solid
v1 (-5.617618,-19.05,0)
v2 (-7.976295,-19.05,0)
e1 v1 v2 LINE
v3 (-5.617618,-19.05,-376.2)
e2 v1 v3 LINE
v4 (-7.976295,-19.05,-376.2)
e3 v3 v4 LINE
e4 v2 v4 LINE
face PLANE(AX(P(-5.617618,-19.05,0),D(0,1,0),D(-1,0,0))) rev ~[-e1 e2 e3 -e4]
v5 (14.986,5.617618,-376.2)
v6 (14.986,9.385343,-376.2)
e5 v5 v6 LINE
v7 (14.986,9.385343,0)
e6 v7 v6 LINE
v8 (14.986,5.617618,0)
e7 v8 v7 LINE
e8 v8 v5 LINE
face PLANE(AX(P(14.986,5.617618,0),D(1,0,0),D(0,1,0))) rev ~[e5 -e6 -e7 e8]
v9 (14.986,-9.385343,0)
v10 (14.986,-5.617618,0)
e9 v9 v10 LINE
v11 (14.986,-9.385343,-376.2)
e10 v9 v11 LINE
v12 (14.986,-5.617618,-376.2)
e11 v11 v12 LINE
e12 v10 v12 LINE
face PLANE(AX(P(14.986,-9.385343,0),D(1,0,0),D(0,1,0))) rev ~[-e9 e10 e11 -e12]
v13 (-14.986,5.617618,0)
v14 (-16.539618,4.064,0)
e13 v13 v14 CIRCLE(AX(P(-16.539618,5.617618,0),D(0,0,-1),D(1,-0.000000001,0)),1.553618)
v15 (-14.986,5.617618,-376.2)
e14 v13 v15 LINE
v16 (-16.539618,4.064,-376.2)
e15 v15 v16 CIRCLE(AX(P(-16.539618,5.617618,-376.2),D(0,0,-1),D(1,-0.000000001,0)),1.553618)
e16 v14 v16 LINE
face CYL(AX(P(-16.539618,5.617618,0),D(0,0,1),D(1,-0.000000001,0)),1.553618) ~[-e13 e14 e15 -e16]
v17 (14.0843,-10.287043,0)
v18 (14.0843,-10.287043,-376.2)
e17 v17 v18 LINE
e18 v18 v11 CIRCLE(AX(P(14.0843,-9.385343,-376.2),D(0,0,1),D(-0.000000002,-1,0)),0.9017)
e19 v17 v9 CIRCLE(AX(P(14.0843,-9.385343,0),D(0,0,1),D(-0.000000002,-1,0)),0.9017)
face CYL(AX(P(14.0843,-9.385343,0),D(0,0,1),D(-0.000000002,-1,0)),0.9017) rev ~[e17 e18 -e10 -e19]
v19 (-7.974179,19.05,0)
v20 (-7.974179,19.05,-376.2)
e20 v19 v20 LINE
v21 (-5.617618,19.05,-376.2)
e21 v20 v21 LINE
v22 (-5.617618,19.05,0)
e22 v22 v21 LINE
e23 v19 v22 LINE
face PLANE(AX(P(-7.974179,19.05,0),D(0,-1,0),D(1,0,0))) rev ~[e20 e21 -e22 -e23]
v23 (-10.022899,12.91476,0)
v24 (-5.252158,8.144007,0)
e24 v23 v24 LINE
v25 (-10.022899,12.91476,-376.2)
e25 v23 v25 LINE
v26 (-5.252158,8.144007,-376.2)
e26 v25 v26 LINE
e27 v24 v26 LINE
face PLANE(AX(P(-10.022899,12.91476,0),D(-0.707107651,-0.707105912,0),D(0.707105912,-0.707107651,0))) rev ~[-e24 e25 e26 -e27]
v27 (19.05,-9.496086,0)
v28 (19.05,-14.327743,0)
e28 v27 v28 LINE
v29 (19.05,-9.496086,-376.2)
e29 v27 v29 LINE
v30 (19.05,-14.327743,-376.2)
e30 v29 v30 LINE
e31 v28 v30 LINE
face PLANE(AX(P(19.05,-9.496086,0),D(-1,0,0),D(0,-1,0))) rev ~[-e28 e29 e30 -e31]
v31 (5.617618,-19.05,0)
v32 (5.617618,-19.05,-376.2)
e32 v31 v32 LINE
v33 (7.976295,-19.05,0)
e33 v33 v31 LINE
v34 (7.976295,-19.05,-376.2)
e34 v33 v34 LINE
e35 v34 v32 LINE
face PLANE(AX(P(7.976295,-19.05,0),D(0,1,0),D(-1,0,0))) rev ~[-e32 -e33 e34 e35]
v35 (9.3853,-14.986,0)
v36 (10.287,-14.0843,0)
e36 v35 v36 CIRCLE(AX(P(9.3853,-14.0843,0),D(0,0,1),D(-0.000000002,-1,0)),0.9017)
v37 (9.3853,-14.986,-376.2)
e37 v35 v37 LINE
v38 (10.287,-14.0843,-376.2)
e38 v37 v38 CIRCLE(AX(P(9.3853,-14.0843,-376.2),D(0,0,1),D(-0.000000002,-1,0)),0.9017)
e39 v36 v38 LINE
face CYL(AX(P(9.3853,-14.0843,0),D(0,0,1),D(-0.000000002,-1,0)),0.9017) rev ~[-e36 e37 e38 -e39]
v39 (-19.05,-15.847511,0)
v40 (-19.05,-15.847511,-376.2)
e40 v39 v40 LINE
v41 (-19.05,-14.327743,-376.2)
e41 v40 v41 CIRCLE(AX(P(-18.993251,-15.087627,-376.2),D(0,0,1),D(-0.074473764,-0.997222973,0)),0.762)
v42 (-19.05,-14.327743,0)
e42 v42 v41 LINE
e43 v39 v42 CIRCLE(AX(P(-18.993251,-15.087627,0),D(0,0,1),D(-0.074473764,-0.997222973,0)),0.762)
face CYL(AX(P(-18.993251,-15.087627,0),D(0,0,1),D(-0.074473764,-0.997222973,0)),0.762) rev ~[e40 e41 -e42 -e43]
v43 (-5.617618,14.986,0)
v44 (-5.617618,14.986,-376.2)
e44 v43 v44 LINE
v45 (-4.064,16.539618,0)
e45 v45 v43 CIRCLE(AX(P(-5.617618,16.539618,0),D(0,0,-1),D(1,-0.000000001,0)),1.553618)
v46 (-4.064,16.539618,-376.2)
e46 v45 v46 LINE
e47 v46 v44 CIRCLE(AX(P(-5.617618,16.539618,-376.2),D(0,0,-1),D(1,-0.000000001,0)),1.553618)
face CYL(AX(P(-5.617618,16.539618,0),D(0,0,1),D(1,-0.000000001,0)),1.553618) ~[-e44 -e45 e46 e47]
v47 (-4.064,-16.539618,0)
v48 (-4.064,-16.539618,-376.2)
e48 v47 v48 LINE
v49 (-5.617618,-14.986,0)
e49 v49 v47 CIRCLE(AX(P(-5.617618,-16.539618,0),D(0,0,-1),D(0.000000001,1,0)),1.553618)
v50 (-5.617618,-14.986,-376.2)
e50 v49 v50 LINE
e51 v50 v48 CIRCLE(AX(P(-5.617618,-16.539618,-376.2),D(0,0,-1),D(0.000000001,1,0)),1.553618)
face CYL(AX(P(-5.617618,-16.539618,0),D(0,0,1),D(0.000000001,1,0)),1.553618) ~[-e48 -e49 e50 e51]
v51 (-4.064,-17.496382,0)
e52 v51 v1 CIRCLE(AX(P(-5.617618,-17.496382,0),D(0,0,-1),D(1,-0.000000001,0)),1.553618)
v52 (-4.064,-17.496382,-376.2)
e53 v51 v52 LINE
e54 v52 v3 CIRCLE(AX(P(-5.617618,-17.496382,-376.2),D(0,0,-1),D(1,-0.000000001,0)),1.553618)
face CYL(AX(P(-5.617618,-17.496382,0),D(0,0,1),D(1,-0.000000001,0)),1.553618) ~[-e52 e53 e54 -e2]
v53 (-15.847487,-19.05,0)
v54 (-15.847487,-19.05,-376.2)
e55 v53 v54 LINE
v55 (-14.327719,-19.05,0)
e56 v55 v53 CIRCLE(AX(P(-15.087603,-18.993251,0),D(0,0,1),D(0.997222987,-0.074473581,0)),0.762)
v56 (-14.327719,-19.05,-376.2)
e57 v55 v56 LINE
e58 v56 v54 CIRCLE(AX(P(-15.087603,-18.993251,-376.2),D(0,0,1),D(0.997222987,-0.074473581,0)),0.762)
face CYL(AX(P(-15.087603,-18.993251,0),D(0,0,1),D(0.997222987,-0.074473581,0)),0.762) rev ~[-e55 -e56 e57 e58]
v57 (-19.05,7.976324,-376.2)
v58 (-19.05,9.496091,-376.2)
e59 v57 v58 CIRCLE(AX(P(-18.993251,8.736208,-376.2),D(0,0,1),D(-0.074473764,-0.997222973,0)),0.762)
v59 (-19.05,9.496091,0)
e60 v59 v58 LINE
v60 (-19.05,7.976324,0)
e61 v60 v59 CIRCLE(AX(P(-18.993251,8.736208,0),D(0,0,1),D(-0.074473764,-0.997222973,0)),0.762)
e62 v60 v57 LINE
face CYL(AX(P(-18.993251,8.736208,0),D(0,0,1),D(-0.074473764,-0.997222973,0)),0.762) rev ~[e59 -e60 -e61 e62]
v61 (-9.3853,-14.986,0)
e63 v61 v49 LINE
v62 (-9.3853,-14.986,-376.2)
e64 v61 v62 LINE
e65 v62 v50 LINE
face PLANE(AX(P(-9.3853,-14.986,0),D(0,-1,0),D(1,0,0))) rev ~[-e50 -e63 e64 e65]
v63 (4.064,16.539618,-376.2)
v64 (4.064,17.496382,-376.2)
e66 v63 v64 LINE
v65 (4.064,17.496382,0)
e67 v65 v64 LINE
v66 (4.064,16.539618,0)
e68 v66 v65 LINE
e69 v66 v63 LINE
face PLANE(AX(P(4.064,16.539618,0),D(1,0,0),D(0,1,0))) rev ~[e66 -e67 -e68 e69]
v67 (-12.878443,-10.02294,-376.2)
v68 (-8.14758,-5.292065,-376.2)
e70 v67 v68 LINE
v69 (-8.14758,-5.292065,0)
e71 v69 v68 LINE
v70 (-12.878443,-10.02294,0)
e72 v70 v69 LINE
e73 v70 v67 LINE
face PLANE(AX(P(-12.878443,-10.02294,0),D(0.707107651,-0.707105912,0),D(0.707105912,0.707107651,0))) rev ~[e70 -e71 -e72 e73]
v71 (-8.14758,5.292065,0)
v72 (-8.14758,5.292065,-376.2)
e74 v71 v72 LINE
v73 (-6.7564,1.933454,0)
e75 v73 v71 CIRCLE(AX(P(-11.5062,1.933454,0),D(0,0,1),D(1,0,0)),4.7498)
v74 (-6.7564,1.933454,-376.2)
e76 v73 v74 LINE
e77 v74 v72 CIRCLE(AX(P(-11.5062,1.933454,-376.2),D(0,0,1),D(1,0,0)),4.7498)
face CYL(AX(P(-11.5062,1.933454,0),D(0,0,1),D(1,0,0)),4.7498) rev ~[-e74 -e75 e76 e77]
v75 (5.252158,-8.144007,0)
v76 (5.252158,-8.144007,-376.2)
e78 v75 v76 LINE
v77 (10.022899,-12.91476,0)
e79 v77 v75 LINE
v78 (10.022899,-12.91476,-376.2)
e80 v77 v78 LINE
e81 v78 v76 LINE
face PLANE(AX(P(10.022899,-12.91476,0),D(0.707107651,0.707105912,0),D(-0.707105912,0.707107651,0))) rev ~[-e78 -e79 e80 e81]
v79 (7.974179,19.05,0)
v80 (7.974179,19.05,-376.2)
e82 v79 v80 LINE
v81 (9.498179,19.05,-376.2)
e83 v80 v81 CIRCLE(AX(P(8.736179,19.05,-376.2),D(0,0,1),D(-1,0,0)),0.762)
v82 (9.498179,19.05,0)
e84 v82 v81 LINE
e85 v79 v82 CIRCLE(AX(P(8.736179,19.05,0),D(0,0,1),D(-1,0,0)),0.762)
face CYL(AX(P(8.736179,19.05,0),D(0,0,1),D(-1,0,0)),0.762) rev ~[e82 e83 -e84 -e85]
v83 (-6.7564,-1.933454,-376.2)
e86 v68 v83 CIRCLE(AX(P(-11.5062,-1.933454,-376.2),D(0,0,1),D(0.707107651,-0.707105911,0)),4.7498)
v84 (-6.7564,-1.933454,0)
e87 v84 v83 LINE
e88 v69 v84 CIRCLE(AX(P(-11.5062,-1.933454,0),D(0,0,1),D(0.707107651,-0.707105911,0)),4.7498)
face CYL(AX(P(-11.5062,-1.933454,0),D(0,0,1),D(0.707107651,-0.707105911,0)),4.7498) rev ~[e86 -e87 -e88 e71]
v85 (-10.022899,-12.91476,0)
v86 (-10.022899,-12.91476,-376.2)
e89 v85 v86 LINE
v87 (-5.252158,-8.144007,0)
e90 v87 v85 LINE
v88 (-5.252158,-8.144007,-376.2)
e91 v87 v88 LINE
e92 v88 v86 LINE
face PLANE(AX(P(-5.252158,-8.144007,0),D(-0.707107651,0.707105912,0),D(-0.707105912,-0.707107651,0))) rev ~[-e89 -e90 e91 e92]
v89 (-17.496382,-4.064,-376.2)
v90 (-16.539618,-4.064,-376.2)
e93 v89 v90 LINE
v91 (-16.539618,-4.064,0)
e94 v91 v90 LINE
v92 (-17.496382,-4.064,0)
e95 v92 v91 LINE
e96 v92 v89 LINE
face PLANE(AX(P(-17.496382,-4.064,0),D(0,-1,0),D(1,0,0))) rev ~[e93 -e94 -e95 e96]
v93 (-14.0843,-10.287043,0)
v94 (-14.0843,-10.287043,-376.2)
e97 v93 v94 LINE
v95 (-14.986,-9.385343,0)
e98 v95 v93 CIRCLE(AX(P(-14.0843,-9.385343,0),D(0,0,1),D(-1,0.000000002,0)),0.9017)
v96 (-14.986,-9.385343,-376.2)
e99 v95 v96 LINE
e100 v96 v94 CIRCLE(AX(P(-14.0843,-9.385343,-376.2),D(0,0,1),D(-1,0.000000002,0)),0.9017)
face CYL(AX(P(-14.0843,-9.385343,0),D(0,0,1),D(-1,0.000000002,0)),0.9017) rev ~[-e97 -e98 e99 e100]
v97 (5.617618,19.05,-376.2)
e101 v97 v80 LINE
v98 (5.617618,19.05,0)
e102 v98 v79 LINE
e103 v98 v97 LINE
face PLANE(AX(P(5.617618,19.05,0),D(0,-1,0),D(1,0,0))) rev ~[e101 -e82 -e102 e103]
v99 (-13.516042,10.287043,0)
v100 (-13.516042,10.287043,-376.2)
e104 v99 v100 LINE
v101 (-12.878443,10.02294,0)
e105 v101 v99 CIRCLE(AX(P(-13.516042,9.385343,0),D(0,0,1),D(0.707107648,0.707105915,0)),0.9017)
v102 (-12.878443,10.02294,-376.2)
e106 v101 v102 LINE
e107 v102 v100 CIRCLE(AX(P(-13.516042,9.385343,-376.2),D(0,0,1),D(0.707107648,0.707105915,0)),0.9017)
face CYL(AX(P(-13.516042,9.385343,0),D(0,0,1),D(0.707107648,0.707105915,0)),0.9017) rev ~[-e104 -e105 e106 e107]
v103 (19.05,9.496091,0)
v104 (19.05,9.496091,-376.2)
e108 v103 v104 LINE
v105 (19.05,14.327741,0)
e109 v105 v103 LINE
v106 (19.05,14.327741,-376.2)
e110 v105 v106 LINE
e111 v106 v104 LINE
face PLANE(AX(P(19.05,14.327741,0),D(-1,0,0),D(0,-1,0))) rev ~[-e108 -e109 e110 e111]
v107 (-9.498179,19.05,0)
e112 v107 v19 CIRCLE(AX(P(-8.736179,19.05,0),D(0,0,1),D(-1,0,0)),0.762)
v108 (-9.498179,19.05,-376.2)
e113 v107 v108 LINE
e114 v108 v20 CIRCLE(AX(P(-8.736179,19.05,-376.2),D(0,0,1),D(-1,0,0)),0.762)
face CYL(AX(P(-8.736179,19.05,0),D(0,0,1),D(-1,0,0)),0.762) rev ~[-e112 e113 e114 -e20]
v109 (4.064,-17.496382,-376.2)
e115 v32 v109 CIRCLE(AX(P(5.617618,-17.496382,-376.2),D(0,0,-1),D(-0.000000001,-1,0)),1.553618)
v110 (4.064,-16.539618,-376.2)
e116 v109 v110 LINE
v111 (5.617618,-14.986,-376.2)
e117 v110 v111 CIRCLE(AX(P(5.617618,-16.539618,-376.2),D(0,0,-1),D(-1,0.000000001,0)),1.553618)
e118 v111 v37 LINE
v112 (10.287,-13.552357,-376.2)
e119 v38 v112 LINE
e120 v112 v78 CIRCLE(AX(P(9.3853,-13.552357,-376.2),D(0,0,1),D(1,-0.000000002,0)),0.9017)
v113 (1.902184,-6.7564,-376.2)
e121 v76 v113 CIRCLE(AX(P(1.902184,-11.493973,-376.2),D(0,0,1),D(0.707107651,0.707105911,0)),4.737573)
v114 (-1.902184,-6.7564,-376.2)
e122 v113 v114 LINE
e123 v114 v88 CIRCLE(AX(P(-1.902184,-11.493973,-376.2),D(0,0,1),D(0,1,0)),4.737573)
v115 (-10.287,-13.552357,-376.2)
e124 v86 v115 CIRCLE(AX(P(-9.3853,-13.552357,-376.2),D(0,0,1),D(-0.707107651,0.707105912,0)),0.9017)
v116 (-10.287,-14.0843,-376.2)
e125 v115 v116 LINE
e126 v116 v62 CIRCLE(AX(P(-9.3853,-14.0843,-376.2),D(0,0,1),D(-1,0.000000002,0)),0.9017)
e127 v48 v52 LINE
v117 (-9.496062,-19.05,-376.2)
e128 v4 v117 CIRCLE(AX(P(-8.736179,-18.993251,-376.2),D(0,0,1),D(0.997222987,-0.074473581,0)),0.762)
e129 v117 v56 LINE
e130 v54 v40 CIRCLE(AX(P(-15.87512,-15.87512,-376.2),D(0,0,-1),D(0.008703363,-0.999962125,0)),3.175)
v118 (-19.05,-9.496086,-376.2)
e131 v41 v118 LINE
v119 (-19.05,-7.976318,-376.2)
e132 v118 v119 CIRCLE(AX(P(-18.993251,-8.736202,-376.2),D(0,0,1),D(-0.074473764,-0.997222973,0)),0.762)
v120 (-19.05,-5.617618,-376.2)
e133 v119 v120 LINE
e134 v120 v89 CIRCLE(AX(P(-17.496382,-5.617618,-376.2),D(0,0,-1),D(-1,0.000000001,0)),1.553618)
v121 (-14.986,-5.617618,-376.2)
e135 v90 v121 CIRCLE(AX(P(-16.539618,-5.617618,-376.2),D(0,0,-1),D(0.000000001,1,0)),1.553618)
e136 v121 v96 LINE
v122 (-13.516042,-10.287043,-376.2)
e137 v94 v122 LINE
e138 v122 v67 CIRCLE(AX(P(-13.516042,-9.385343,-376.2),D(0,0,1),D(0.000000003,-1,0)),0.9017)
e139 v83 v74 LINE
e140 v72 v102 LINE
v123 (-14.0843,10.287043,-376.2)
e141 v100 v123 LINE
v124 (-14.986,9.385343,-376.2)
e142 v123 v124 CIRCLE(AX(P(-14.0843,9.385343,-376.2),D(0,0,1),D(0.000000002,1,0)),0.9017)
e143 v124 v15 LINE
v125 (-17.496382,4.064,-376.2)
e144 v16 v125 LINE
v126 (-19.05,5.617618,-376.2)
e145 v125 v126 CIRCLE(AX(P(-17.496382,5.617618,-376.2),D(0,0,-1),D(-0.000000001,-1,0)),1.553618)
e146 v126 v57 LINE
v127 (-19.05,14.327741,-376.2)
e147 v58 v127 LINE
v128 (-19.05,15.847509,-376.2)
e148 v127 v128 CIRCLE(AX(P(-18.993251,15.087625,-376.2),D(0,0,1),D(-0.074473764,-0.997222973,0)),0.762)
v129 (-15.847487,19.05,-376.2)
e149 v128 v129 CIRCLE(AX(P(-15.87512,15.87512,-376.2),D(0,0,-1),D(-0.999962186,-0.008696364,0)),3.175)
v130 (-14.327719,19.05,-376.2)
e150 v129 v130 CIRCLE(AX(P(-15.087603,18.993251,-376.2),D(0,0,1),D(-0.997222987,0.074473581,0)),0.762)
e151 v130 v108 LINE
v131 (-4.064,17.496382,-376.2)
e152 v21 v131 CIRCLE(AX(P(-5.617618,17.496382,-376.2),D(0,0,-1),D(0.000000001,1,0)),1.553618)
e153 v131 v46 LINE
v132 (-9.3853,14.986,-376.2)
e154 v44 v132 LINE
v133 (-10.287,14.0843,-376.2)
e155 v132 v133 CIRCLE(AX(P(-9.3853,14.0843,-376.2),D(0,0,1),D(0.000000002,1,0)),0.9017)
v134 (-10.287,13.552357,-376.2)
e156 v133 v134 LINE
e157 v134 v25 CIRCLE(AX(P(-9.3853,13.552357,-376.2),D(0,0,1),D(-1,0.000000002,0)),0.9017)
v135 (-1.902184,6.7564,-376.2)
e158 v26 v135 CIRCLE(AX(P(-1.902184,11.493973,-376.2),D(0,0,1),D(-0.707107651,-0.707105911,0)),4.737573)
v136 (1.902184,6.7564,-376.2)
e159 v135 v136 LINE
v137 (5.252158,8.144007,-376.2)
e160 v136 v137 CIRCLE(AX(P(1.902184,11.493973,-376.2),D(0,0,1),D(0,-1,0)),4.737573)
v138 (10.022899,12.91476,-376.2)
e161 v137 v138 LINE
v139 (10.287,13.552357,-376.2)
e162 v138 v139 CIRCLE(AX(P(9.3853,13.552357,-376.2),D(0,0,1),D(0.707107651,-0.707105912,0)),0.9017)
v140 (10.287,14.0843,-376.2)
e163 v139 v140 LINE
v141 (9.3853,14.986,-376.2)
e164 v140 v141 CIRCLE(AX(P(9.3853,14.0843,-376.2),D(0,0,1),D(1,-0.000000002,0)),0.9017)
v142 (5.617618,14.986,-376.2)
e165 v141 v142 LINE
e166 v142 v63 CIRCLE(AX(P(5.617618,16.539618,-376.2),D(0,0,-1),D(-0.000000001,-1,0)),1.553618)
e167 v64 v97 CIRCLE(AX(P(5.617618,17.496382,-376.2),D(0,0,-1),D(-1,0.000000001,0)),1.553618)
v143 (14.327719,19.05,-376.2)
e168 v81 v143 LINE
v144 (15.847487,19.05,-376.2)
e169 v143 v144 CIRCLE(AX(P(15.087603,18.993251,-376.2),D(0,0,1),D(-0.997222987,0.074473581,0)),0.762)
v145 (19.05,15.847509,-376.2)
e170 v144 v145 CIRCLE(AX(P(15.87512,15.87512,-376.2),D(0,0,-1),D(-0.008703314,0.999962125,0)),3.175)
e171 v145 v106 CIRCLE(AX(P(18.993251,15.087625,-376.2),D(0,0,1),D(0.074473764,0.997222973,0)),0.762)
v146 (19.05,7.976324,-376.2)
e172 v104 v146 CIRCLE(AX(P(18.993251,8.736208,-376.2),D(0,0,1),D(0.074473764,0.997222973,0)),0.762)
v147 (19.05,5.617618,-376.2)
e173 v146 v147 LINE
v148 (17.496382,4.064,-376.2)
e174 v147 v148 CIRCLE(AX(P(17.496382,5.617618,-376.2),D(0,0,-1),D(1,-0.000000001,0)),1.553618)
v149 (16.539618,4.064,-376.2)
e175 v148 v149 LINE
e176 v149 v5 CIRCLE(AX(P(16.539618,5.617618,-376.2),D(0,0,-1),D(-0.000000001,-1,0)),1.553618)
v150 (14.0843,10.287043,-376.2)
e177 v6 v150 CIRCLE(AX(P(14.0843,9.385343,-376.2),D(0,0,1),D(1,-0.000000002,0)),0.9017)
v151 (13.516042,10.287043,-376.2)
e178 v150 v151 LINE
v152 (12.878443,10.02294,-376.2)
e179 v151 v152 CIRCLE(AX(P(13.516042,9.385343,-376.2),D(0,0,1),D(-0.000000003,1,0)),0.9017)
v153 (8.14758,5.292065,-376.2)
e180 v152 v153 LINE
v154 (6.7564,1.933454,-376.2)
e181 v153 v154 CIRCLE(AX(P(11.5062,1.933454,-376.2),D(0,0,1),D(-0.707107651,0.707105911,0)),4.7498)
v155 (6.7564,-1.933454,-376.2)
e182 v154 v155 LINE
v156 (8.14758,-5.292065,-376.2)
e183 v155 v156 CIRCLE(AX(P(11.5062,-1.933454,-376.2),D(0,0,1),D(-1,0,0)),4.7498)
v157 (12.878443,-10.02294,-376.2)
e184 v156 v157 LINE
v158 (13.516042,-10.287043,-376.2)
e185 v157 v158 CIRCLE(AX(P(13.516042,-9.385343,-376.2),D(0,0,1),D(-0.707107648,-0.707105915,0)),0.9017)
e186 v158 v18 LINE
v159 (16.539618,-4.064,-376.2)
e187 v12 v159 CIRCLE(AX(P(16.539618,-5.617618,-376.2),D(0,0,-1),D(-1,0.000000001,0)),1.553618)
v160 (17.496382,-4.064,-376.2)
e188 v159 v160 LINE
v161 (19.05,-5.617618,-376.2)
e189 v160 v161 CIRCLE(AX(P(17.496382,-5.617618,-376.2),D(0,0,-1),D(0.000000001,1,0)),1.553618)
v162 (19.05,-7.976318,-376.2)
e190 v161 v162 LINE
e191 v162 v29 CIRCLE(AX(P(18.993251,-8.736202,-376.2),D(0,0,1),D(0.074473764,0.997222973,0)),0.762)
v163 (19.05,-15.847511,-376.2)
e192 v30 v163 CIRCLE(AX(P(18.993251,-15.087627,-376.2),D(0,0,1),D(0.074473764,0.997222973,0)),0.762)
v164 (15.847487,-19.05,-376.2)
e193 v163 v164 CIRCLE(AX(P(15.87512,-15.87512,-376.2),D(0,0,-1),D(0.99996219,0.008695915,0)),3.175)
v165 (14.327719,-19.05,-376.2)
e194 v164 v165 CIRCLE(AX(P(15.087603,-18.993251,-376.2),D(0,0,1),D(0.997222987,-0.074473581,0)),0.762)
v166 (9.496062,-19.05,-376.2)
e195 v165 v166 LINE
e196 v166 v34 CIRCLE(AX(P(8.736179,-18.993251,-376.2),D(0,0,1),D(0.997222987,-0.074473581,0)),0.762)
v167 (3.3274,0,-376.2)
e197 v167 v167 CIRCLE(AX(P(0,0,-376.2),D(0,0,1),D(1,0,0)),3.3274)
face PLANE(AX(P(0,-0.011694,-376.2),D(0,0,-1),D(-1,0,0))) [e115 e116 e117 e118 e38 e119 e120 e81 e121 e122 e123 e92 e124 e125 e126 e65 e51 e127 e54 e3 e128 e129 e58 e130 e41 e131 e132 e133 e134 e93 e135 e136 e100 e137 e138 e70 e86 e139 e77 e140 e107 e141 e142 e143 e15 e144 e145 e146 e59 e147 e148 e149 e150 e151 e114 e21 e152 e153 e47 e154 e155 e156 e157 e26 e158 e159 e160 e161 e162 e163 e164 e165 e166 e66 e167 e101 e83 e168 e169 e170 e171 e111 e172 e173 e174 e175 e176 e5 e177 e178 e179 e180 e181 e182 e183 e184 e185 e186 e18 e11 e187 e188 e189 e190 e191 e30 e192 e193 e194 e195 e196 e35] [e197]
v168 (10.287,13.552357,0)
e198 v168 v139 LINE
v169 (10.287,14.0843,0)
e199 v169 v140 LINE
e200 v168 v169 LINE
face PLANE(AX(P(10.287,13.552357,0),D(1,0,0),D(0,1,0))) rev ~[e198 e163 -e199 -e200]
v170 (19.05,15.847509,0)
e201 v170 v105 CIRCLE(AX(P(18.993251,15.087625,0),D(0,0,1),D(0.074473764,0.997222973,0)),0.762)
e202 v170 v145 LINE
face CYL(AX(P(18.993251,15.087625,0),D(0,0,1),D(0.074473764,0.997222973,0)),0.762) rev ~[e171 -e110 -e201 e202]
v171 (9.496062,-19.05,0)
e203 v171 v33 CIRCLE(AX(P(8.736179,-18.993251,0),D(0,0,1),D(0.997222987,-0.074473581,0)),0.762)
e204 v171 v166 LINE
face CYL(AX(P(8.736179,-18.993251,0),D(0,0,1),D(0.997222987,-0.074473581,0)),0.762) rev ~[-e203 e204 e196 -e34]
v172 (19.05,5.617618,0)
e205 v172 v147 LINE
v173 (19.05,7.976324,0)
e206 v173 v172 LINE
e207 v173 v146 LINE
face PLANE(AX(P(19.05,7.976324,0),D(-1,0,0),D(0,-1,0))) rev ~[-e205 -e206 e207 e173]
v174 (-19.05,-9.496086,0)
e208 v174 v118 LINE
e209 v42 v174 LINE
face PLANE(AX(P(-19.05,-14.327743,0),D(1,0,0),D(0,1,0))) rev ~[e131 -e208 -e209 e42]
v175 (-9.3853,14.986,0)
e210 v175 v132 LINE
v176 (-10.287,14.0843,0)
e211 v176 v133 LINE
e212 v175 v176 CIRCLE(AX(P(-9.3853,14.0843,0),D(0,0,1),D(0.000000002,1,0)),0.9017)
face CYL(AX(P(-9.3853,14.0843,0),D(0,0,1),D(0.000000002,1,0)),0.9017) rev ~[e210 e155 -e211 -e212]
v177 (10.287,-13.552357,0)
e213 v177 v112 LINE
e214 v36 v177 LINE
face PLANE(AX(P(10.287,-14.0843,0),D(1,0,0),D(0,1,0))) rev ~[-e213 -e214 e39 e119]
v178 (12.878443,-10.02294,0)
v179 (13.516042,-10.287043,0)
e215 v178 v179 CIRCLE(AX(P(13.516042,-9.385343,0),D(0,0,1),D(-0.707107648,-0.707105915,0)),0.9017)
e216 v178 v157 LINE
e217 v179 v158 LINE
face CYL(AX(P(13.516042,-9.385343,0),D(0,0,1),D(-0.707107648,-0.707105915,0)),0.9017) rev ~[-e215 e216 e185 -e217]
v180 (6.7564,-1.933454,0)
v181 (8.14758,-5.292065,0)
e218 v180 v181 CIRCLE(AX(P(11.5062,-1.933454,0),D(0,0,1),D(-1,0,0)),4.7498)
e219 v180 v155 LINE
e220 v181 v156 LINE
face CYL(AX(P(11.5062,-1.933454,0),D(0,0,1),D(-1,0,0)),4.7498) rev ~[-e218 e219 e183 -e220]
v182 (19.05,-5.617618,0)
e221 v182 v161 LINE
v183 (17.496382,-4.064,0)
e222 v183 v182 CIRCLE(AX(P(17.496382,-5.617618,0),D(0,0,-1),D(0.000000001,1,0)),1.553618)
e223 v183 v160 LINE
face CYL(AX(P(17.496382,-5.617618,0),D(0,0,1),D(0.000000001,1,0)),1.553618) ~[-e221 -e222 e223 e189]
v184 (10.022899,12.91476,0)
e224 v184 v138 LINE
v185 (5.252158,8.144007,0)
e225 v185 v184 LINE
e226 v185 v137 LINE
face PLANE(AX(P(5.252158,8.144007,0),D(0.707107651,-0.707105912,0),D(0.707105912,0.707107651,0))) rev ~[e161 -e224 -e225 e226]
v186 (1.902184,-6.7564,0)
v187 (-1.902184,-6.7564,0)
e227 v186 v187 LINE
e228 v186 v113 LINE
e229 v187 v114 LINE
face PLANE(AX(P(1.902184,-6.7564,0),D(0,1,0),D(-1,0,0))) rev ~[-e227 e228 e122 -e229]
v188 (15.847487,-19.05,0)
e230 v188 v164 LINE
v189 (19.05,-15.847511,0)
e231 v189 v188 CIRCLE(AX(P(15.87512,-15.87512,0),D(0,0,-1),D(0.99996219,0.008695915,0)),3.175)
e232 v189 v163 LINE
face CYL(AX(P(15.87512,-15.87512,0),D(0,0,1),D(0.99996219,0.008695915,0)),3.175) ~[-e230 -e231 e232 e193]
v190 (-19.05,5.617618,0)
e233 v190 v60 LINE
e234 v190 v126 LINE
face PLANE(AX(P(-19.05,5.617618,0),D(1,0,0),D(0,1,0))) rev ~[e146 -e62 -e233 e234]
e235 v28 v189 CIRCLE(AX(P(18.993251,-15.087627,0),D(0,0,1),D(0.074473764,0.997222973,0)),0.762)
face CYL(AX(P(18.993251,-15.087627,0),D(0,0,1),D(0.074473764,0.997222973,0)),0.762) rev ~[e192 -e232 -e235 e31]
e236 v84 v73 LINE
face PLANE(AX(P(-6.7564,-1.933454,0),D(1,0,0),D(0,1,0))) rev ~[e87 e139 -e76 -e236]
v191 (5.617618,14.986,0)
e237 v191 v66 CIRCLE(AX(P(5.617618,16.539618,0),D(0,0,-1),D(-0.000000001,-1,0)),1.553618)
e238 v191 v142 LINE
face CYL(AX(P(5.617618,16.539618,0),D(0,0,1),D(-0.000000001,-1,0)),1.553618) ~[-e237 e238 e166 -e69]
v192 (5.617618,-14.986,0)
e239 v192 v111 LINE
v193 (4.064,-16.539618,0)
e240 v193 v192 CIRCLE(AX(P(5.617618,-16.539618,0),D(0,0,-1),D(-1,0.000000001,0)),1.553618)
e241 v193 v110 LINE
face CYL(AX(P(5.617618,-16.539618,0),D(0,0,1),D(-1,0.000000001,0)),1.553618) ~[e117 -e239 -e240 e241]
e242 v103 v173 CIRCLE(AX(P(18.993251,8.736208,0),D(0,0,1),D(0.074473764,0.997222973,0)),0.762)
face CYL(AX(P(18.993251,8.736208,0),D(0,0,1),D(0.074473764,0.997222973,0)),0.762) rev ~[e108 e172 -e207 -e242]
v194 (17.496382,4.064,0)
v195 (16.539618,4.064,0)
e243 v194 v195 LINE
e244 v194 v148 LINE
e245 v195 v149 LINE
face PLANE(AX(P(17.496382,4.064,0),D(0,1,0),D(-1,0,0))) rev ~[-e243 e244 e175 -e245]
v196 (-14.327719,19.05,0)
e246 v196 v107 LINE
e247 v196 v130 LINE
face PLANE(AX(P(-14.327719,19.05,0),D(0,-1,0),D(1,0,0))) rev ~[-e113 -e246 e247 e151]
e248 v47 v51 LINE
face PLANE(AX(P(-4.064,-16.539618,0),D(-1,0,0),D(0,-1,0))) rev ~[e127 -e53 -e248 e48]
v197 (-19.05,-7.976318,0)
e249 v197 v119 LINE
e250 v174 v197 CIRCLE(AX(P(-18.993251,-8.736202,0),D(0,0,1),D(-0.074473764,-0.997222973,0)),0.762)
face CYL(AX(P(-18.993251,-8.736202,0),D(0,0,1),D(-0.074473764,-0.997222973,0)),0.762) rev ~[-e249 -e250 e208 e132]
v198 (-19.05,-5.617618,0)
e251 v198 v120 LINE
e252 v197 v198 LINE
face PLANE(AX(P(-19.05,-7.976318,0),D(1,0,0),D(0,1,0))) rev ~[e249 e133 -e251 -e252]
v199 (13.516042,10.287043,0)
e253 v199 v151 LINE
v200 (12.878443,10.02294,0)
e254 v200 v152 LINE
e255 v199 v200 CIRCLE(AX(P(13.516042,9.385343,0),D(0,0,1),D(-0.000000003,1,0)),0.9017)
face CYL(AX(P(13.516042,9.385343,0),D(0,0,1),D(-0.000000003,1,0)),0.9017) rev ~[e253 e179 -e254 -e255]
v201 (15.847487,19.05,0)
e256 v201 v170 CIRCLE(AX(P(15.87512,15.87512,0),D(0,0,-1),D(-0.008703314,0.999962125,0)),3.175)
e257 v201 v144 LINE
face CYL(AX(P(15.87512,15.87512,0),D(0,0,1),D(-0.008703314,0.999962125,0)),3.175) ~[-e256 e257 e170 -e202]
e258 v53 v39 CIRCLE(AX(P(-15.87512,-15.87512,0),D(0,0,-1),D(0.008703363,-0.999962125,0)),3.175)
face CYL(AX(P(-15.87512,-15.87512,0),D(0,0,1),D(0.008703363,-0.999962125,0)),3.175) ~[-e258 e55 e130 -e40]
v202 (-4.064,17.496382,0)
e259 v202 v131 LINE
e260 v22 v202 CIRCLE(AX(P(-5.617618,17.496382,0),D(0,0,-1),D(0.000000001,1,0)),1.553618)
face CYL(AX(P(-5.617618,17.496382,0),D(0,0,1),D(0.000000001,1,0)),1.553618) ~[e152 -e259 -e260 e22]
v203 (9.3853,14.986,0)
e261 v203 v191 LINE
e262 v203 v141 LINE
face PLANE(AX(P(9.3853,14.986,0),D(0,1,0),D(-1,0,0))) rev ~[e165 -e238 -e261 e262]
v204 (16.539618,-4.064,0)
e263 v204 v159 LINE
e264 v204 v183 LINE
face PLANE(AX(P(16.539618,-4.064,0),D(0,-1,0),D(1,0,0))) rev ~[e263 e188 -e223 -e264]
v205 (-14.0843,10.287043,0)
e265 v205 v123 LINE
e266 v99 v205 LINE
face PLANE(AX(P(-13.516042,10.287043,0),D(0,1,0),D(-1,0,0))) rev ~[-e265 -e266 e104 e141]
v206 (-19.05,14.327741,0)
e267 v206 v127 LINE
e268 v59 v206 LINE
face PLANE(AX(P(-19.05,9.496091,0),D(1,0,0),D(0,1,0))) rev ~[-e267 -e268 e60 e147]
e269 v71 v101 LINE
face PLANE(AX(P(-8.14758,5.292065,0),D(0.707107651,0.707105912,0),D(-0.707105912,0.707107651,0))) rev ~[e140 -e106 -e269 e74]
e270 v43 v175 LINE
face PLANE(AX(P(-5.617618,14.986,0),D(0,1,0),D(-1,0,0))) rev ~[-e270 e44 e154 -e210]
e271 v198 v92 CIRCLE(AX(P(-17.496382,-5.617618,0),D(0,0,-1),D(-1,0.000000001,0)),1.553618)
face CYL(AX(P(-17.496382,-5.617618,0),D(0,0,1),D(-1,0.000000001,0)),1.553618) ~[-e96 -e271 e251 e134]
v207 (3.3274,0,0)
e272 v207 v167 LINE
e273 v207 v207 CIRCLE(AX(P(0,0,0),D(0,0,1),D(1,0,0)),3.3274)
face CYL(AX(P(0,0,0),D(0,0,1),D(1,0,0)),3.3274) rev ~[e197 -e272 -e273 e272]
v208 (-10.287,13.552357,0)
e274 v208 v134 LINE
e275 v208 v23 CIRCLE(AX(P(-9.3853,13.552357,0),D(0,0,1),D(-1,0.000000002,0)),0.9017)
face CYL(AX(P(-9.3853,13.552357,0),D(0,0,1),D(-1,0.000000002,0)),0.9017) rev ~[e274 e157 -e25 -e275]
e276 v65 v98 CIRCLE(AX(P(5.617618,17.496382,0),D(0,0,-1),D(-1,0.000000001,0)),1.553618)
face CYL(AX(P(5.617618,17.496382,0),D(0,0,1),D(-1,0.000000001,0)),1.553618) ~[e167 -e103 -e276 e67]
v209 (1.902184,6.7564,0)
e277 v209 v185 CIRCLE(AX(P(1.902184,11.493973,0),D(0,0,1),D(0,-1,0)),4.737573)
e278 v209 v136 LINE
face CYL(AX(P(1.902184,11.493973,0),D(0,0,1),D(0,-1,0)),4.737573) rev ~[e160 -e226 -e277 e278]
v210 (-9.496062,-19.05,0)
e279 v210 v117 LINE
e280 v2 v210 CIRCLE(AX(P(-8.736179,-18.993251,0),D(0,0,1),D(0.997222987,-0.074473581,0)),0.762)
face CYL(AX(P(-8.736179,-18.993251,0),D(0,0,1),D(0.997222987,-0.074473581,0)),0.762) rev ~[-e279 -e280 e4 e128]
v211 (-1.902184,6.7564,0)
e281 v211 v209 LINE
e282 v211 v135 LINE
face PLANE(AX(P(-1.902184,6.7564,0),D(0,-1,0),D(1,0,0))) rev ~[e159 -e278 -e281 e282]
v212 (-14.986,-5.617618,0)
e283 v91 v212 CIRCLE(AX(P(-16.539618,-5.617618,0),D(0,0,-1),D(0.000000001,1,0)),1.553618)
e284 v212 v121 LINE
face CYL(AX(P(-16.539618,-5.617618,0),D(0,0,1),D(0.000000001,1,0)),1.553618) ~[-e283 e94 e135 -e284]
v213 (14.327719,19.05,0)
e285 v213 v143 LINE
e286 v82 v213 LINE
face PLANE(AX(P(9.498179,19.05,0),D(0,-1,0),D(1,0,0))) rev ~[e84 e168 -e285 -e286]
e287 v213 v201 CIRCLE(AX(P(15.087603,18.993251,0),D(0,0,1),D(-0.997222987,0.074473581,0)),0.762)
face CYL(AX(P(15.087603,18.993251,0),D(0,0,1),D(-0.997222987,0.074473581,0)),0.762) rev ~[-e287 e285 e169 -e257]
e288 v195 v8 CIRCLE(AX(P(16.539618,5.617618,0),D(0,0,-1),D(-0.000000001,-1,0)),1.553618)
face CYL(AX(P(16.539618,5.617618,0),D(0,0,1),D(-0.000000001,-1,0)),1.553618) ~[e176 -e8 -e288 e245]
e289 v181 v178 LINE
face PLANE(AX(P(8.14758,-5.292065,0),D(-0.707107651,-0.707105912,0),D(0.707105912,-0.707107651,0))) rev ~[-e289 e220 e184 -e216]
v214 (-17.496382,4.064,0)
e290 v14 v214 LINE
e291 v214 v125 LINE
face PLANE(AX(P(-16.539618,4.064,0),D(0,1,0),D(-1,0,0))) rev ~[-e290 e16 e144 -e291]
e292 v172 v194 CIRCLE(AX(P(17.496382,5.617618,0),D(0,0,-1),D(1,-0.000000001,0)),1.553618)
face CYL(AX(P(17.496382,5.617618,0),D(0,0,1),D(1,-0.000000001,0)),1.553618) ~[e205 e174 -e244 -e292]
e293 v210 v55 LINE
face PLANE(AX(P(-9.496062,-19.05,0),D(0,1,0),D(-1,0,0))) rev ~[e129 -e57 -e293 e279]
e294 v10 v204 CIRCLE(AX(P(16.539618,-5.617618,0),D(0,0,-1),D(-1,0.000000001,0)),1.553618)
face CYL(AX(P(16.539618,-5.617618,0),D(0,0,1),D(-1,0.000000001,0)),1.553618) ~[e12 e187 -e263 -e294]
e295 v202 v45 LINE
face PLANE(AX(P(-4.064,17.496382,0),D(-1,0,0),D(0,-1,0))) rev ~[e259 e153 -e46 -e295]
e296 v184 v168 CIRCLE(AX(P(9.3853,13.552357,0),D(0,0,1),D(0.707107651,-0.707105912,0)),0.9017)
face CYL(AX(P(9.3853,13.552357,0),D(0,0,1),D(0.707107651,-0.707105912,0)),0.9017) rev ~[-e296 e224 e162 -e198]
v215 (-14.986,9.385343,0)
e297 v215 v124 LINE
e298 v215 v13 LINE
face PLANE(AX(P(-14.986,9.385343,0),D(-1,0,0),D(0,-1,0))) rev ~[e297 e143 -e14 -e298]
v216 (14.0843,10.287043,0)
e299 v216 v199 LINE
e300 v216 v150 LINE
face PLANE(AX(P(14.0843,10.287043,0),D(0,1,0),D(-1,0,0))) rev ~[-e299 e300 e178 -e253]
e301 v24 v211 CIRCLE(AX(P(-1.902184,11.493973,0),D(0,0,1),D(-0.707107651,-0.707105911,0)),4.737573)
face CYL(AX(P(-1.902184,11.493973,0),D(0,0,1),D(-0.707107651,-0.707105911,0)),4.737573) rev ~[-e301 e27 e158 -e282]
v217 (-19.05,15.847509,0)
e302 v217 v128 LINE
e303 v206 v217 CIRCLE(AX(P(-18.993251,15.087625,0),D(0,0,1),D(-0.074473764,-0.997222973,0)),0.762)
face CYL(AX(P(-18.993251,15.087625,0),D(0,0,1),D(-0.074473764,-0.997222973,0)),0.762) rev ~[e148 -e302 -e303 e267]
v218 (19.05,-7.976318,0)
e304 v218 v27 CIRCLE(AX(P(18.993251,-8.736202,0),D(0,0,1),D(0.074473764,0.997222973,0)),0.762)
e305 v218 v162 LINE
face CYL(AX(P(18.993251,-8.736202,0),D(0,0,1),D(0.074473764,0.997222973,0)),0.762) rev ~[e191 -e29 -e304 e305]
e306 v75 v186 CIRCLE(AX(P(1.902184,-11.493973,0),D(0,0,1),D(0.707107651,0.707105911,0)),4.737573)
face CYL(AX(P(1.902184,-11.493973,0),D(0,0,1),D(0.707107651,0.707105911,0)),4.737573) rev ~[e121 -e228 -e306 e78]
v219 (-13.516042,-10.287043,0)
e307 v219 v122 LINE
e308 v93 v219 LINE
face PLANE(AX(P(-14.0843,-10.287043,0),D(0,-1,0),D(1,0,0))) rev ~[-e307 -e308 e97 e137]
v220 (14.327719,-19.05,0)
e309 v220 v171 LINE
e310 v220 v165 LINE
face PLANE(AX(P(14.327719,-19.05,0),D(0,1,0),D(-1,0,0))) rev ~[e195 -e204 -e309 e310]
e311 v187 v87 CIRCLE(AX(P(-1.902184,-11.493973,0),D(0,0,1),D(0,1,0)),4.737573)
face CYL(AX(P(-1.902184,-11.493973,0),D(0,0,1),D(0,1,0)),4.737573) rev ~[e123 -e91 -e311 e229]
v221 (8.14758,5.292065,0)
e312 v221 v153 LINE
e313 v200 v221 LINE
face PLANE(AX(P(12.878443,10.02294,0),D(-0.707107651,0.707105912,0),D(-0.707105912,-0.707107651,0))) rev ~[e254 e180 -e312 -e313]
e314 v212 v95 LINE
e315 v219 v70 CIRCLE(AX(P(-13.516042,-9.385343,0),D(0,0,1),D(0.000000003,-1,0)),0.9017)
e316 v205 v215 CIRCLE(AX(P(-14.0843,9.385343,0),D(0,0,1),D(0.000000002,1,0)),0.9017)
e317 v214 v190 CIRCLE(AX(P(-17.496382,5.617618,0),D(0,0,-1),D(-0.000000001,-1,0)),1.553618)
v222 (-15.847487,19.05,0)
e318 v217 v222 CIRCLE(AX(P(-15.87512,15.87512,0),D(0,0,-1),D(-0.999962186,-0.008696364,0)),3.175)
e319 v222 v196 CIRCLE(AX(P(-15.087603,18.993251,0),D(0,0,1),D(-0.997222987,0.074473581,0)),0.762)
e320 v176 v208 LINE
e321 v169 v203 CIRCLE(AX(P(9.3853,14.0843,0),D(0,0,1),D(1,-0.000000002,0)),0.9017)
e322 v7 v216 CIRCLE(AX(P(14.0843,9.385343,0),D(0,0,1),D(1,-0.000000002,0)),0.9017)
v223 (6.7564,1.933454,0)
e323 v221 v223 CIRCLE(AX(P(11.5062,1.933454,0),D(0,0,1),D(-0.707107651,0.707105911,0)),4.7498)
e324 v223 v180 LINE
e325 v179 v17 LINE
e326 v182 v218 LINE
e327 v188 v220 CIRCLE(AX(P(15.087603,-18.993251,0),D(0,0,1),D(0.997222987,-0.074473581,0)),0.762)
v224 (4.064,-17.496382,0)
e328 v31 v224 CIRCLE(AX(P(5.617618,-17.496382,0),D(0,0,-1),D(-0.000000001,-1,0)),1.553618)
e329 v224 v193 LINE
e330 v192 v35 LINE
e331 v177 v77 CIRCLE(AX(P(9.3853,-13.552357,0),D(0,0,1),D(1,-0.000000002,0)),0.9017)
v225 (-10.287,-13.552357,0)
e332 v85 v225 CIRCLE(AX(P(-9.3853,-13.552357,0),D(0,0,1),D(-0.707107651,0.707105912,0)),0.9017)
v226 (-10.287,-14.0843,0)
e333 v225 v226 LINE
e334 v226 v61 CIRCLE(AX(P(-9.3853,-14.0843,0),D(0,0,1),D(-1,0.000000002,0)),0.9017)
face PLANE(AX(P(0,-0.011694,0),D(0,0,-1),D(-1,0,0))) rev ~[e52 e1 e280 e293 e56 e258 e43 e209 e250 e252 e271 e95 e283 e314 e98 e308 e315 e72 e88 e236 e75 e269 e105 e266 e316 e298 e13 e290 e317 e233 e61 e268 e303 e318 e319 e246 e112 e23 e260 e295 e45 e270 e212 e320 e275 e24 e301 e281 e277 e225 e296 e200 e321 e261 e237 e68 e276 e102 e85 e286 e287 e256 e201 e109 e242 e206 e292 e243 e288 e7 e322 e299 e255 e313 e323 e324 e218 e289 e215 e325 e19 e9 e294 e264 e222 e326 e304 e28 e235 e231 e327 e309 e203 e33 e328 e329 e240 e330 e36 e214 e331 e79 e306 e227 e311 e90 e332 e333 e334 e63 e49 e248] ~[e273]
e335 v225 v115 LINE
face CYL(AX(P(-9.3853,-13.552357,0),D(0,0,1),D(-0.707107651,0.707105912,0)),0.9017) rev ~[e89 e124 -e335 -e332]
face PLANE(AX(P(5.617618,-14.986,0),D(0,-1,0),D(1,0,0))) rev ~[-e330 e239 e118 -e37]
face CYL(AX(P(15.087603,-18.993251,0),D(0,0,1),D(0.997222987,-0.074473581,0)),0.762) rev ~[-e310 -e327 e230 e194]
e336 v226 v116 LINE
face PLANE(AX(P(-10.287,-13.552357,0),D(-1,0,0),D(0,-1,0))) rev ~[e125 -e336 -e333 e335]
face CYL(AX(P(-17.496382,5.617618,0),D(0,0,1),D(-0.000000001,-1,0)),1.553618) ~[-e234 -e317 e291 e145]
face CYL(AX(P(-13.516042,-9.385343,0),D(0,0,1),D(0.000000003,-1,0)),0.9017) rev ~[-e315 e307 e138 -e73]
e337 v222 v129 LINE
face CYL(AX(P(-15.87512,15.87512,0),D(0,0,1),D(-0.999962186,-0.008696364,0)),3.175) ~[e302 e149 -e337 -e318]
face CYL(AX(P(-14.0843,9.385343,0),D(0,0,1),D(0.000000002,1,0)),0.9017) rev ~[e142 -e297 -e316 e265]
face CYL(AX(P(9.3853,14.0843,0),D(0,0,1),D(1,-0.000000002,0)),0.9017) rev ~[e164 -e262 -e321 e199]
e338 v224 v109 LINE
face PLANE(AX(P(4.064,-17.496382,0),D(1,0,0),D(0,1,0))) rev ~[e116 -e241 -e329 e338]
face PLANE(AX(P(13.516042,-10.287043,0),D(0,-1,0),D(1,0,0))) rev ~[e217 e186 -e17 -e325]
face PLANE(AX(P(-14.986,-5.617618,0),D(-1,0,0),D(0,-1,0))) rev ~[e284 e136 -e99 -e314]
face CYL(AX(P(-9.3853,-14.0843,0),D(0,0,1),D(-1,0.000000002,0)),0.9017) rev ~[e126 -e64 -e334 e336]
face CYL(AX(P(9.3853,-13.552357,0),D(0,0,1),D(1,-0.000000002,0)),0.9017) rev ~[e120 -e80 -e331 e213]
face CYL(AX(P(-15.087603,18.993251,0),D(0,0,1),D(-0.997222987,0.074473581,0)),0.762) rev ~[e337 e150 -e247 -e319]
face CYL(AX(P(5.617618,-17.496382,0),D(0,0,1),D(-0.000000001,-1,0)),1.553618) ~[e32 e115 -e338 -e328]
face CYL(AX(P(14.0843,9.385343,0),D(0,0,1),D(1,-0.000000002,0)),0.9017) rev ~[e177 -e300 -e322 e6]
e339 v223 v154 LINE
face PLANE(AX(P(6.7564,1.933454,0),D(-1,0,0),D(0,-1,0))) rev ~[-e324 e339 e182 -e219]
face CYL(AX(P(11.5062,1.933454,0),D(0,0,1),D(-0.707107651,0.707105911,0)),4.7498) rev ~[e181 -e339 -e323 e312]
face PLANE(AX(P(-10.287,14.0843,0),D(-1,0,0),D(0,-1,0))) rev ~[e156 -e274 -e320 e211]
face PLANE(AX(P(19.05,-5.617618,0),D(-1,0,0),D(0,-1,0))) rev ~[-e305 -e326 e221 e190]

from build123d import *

# Parameters (mm, degrees)
SKETCH1_R      = 3.3274
EXTRUDE1_DEPTH = 376.2


with BuildPart() as part:
    # Sketch1 → Extrude1 (new body)
    with BuildSketch(Plane.XY):
        with BuildLine():
            Line((-10.022898969, 12.91475973), (-5.252158105, 8.144007132))
            ThreePointArc((-5.252158105, 8.144007132), (-3.715177372, 7.117027388), (-1.902183975, 6.7564))
            Line((-1.902183975, 6.7564), (1.902183975, 6.7564))
            ThreePointArc((1.902183975, 6.7564), (3.715177372, 7.117027388), (5.252158105, 8.144007132))
            Line((5.252158105, 8.144007132), (10.022898969, 12.91475973))
            ThreePointArc((10.022898969, 12.91475973), (10.218362387, 13.207291992), (10.287, 13.552357131))
            Line((10.287, 13.552357131), (10.287, 14.0843))
            ThreePointArc((10.287, 14.0843), (10.022898185, 14.721898185), (9.3853, 14.986))
            Line((9.3853, 14.986), (5.617617549, 14.986))
            ThreePointArc((5.617617549, 14.986), (4.519044045, 15.441044045), (4.064, 16.539617549))
            Line((4.064, 16.539617549), (4.064, 17.496382451))
            ThreePointArc((4.064, 17.496382451), (4.519044045, 18.594955955), (5.617617549, 19.05))
            Line((5.617617549, 19.05), (7.974178704, 19.05))
            ThreePointArc((7.974178704, 19.05), (8.736178704, 18.288), (9.498178704, 19.05))
            Line((9.498178704, 19.05), (14.327719207, 19.05))
            ThreePointArc((14.327719207, 19.05), (15.087603123, 18.231251131), (15.847487039, 19.05))
            ThreePointArc((15.847487039, 19.05), (18.120176289, 18.120192083), (19.05, 15.847509295))
            ThreePointArc((19.05, 15.847509295), (18.231250992, 15.08762539), (19.05, 14.327741484))
            Line((19.05, 14.327741484), (19.05, 9.496091471))
            ThreePointArc((19.05, 9.496091471), (18.231250992, 8.736207565), (19.05, 7.97632366))
            Line((19.05, 7.97632366), (19.05, 5.617617549))
            ThreePointArc((19.05, 5.617617549), (18.594955955, 4.519044045), (17.496382451, 4.064))
            Line((17.496382451, 4.064), (16.539617549, 4.064))
            ThreePointArc((16.539617549, 4.064), (15.441044045, 4.519044045), (14.986, 5.617617549))
            Line((14.986, 5.617617549), (14.986, 9.385342516))
            ThreePointArc((14.986, 9.385342516), (14.721898185, 10.022940701), (14.0843, 10.287042516))
            Line((14.0843, 10.287042516), (13.516042086, 10.287042516))
            ThreePointArc((13.516042086, 10.287042516), (13.170975923, 10.218404478), (12.878443117, 10.022939917))
            Line((12.878443117, 10.022939917), (8.14758008, 5.292065243))
            ThreePointArc((8.14758008, 5.292065243), (7.117955879, 3.751120653), (6.7564, 1.933453584))
            Line((6.7564, 1.933453584), (6.7564, -1.933453584))
            ThreePointArc((6.7564, -1.933453584), (7.117955879, -3.751120653), (8.14758008, -5.292065243))
            Line((8.14758008, -5.292065243), (12.878443117, -10.022939917))
            ThreePointArc((12.878443117, -10.022939917), (13.170975923, -10.218404478), (13.516042086, -10.287042516))
            Line((13.516042086, -10.287042516), (14.0843, -10.287042516))
            ThreePointArc((14.0843, -10.287042516), (14.721898185, -10.022940701), (14.986, -9.385342516))
            Line((14.986, -9.385342516), (14.986, -5.617617549))
            ThreePointArc((14.986, -5.617617549), (15.441044045, -4.519044045), (16.539617549, -4.064))
            Line((16.539617549, -4.064), (17.496382451, -4.064))
            ThreePointArc((17.496382451, -4.064), (18.594955955, -4.519044045), (19.05, -5.617617549))
            Line((19.05, -5.617617549), (19.05, -7.976318491))
            ThreePointArc((19.05, -7.976318491), (18.231250992, -8.736202396), (19.05, -9.496086302))
            Line((19.05, -9.496086302), (19.05, -14.32774291))
            ThreePointArc((19.05, -14.32774291), (18.231250992, -15.087626816), (19.05, -15.847510721))
            ThreePointArc((19.05, -15.847510721), (18.120175716, -18.120192644), (15.847486868, -19.05))
            ThreePointArc((15.847486868, -19.05), (15.087602952, -18.231251131), (14.327719036, -19.05))
            Line((14.327719036, -19.05), (9.496062448, -19.05))
            ThreePointArc((9.496062448, -19.05), (8.736178532, -18.231251131), (7.976294616, -19.05))
            Line((7.976294616, -19.05), (5.617617549, -19.05))
            ThreePointArc((5.617617549, -19.05), (4.519044045, -18.594955955), (4.064, -17.496382451))
            Line((4.064, -17.496382451), (4.064, -16.539617549))
            ThreePointArc((4.064, -16.539617549), (4.519044045, -15.441044045), (5.617617549, -14.986))
            Line((5.617617549, -14.986), (9.3853, -14.986))
            ThreePointArc((9.3853, -14.986), (10.022898185, -14.721898185), (10.287, -14.0843))
            Line((10.287, -14.0843), (10.287, -13.552357131))
            ThreePointArc((10.287, -13.552357131), (10.218362387, -13.207291992), (10.022898969, -12.91475973))
            Line((10.022898969, -12.91475973), (5.252158105, -8.144007132))
            ThreePointArc((5.252158105, -8.144007132), (3.715177372, -7.117027388), (1.902183975, -6.7564))
            Line((1.902183975, -6.7564), (-1.902183975, -6.7564))
            ThreePointArc((-1.902183975, -6.7564), (-3.715177372, -7.117027388), (-5.252158105, -8.144007132))
            Line((-5.252158105, -8.144007132), (-10.022898969, -12.91475973))
            ThreePointArc((-10.022898969, -12.91475973), (-10.218362387, -13.207291992), (-10.287, -13.552357131))
            Line((-10.287, -13.552357131), (-10.287, -14.0843))
            ThreePointArc((-10.287, -14.0843), (-10.022898185, -14.721898185), (-9.3853, -14.986))
            Line((-9.3853, -14.986), (-5.617617549, -14.986))
            ThreePointArc((-5.617617549, -14.986), (-4.519044045, -15.441044045), (-4.064, -16.539617549))
            Line((-4.064, -16.539617549), (-4.064, -17.496382451))
            ThreePointArc((-4.064, -17.496382451), (-4.519044045, -18.594955955), (-5.617617549, -19.05))
            Line((-5.617617549, -19.05), (-7.976294616, -19.05))
            ThreePointArc((-7.976294616, -19.05), (-8.736178532, -18.231251131), (-9.496062448, -19.05))
            Line((-9.496062448, -19.05), (-14.327719036, -19.05))
            ThreePointArc((-14.327719036, -19.05), (-15.087602952, -18.231251131), (-15.847486868, -19.05))
            ThreePointArc((-15.847486868, -19.05), (-18.120175716, -18.120192644), (-19.05, -15.847510721))
            ThreePointArc((-19.05, -15.847510721), (-18.231250992, -15.087626816), (-19.05, -14.32774291))
            Line((-19.05, -14.32774291), (-19.05, -9.496086302))
            ThreePointArc((-19.05, -9.496086302), (-18.231250992, -8.736202396), (-19.05, -7.976318491))
            Line((-19.05, -7.976318491), (-19.05, -5.617617549))
            ThreePointArc((-19.05, -5.617617549), (-18.594955955, -4.519044045), (-17.496382451, -4.064))
            Line((-17.496382451, -4.064), (-16.539617549, -4.064))
            ThreePointArc((-16.539617549, -4.064), (-15.441044045, -4.519044045), (-14.986, -5.617617549))
            Line((-14.986, -5.617617549), (-14.986, -9.385342516))
            ThreePointArc((-14.986, -9.385342516), (-14.721898185, -10.022940701), (-14.0843, -10.287042516))
            Line((-14.0843, -10.287042516), (-13.516042086, -10.287042516))
            ThreePointArc((-13.516042086, -10.287042516), (-13.170975923, -10.218404478), (-12.878443117, -10.022939917))
            Line((-12.878443117, -10.022939917), (-8.14758008, -5.292065243))
            ThreePointArc((-8.14758008, -5.292065243), (-7.117955879, -3.751120653), (-6.7564, -1.933453584))
            Line((-6.7564, -1.933453584), (-6.7564, 1.933453584))
            ThreePointArc((-6.7564, 1.933453584), (-7.117955879, 3.751120653), (-8.14758008, 5.292065243))
            Line((-8.14758008, 5.292065243), (-12.878443117, 10.022939917))
            ThreePointArc((-12.878443117, 10.022939917), (-13.170975923, 10.218404478), (-13.516042086, 10.287042516))
            Line((-13.516042086, 10.287042516), (-14.0843, 10.287042516))
            ThreePointArc((-14.0843, 10.287042516), (-14.721898185, 10.022940701), (-14.986, 9.385342516))
            Line((-14.986, 9.385342516), (-14.986, 5.617617549))
            ThreePointArc((-14.986, 5.617617549), (-15.441044045, 4.519044045), (-16.539617549, 4.064))
            Line((-16.539617549, 4.064), (-17.496382451, 4.064))
            ThreePointArc((-17.496382451, 4.064), (-18.594955955, 4.519044045), (-19.05, 5.617617549))
            Line((-19.05, 5.617617549), (-19.05, 7.97632366))
            ThreePointArc((-19.05, 7.97632366), (-18.231250992, 8.736207565), (-19.05, 9.496091471))
            Line((-19.05, 9.496091471), (-19.05, 14.327741484))
            ThreePointArc((-19.05, 14.327741484), (-18.231250992, 15.08762539), (-19.05, 15.847509295))
            ThreePointArc((-19.05, 15.847509295), (-18.120176289, 18.120192083), (-15.847487039, 19.05))
            ThreePointArc((-15.847487039, 19.05), (-15.087603123, 18.231251131), (-14.327719207, 19.05))
            Line((-14.327719207, 19.05), (-9.498178704, 19.05))
            ThreePointArc((-9.498178704, 19.05), (-8.736178704, 18.288), (-7.974178704, 19.05))
            Line((-7.974178704, 19.05), (-5.617617549, 19.05))
            ThreePointArc((-5.617617549, 19.05), (-4.519044045, 18.594955955), (-4.064, 17.496382451))
            Line((-4.064, 17.496382451), (-4.064, 16.539617549))
            ThreePointArc((-4.064, 16.539617549), (-4.519044045, 15.441044045), (-5.617617549, 14.986))
            Line((-5.617617549, 14.986), (-9.3853, 14.986))
            ThreePointArc((-9.3853, 14.986), (-10.022898185, 14.721898185), (-10.287, 14.0843))
            Line((-10.287, 14.0843), (-10.287, 13.552357131))
            ThreePointArc((-10.287, 13.552357131), (-10.218362387, 13.207291992), (-10.022898969, 12.91475973))
        make_face()
        Circle(SKETCH1_R, mode=Mode.SUBTRACT)
    extrude(amount=-EXTRUDE1_DEPTH)


solid = part.part
